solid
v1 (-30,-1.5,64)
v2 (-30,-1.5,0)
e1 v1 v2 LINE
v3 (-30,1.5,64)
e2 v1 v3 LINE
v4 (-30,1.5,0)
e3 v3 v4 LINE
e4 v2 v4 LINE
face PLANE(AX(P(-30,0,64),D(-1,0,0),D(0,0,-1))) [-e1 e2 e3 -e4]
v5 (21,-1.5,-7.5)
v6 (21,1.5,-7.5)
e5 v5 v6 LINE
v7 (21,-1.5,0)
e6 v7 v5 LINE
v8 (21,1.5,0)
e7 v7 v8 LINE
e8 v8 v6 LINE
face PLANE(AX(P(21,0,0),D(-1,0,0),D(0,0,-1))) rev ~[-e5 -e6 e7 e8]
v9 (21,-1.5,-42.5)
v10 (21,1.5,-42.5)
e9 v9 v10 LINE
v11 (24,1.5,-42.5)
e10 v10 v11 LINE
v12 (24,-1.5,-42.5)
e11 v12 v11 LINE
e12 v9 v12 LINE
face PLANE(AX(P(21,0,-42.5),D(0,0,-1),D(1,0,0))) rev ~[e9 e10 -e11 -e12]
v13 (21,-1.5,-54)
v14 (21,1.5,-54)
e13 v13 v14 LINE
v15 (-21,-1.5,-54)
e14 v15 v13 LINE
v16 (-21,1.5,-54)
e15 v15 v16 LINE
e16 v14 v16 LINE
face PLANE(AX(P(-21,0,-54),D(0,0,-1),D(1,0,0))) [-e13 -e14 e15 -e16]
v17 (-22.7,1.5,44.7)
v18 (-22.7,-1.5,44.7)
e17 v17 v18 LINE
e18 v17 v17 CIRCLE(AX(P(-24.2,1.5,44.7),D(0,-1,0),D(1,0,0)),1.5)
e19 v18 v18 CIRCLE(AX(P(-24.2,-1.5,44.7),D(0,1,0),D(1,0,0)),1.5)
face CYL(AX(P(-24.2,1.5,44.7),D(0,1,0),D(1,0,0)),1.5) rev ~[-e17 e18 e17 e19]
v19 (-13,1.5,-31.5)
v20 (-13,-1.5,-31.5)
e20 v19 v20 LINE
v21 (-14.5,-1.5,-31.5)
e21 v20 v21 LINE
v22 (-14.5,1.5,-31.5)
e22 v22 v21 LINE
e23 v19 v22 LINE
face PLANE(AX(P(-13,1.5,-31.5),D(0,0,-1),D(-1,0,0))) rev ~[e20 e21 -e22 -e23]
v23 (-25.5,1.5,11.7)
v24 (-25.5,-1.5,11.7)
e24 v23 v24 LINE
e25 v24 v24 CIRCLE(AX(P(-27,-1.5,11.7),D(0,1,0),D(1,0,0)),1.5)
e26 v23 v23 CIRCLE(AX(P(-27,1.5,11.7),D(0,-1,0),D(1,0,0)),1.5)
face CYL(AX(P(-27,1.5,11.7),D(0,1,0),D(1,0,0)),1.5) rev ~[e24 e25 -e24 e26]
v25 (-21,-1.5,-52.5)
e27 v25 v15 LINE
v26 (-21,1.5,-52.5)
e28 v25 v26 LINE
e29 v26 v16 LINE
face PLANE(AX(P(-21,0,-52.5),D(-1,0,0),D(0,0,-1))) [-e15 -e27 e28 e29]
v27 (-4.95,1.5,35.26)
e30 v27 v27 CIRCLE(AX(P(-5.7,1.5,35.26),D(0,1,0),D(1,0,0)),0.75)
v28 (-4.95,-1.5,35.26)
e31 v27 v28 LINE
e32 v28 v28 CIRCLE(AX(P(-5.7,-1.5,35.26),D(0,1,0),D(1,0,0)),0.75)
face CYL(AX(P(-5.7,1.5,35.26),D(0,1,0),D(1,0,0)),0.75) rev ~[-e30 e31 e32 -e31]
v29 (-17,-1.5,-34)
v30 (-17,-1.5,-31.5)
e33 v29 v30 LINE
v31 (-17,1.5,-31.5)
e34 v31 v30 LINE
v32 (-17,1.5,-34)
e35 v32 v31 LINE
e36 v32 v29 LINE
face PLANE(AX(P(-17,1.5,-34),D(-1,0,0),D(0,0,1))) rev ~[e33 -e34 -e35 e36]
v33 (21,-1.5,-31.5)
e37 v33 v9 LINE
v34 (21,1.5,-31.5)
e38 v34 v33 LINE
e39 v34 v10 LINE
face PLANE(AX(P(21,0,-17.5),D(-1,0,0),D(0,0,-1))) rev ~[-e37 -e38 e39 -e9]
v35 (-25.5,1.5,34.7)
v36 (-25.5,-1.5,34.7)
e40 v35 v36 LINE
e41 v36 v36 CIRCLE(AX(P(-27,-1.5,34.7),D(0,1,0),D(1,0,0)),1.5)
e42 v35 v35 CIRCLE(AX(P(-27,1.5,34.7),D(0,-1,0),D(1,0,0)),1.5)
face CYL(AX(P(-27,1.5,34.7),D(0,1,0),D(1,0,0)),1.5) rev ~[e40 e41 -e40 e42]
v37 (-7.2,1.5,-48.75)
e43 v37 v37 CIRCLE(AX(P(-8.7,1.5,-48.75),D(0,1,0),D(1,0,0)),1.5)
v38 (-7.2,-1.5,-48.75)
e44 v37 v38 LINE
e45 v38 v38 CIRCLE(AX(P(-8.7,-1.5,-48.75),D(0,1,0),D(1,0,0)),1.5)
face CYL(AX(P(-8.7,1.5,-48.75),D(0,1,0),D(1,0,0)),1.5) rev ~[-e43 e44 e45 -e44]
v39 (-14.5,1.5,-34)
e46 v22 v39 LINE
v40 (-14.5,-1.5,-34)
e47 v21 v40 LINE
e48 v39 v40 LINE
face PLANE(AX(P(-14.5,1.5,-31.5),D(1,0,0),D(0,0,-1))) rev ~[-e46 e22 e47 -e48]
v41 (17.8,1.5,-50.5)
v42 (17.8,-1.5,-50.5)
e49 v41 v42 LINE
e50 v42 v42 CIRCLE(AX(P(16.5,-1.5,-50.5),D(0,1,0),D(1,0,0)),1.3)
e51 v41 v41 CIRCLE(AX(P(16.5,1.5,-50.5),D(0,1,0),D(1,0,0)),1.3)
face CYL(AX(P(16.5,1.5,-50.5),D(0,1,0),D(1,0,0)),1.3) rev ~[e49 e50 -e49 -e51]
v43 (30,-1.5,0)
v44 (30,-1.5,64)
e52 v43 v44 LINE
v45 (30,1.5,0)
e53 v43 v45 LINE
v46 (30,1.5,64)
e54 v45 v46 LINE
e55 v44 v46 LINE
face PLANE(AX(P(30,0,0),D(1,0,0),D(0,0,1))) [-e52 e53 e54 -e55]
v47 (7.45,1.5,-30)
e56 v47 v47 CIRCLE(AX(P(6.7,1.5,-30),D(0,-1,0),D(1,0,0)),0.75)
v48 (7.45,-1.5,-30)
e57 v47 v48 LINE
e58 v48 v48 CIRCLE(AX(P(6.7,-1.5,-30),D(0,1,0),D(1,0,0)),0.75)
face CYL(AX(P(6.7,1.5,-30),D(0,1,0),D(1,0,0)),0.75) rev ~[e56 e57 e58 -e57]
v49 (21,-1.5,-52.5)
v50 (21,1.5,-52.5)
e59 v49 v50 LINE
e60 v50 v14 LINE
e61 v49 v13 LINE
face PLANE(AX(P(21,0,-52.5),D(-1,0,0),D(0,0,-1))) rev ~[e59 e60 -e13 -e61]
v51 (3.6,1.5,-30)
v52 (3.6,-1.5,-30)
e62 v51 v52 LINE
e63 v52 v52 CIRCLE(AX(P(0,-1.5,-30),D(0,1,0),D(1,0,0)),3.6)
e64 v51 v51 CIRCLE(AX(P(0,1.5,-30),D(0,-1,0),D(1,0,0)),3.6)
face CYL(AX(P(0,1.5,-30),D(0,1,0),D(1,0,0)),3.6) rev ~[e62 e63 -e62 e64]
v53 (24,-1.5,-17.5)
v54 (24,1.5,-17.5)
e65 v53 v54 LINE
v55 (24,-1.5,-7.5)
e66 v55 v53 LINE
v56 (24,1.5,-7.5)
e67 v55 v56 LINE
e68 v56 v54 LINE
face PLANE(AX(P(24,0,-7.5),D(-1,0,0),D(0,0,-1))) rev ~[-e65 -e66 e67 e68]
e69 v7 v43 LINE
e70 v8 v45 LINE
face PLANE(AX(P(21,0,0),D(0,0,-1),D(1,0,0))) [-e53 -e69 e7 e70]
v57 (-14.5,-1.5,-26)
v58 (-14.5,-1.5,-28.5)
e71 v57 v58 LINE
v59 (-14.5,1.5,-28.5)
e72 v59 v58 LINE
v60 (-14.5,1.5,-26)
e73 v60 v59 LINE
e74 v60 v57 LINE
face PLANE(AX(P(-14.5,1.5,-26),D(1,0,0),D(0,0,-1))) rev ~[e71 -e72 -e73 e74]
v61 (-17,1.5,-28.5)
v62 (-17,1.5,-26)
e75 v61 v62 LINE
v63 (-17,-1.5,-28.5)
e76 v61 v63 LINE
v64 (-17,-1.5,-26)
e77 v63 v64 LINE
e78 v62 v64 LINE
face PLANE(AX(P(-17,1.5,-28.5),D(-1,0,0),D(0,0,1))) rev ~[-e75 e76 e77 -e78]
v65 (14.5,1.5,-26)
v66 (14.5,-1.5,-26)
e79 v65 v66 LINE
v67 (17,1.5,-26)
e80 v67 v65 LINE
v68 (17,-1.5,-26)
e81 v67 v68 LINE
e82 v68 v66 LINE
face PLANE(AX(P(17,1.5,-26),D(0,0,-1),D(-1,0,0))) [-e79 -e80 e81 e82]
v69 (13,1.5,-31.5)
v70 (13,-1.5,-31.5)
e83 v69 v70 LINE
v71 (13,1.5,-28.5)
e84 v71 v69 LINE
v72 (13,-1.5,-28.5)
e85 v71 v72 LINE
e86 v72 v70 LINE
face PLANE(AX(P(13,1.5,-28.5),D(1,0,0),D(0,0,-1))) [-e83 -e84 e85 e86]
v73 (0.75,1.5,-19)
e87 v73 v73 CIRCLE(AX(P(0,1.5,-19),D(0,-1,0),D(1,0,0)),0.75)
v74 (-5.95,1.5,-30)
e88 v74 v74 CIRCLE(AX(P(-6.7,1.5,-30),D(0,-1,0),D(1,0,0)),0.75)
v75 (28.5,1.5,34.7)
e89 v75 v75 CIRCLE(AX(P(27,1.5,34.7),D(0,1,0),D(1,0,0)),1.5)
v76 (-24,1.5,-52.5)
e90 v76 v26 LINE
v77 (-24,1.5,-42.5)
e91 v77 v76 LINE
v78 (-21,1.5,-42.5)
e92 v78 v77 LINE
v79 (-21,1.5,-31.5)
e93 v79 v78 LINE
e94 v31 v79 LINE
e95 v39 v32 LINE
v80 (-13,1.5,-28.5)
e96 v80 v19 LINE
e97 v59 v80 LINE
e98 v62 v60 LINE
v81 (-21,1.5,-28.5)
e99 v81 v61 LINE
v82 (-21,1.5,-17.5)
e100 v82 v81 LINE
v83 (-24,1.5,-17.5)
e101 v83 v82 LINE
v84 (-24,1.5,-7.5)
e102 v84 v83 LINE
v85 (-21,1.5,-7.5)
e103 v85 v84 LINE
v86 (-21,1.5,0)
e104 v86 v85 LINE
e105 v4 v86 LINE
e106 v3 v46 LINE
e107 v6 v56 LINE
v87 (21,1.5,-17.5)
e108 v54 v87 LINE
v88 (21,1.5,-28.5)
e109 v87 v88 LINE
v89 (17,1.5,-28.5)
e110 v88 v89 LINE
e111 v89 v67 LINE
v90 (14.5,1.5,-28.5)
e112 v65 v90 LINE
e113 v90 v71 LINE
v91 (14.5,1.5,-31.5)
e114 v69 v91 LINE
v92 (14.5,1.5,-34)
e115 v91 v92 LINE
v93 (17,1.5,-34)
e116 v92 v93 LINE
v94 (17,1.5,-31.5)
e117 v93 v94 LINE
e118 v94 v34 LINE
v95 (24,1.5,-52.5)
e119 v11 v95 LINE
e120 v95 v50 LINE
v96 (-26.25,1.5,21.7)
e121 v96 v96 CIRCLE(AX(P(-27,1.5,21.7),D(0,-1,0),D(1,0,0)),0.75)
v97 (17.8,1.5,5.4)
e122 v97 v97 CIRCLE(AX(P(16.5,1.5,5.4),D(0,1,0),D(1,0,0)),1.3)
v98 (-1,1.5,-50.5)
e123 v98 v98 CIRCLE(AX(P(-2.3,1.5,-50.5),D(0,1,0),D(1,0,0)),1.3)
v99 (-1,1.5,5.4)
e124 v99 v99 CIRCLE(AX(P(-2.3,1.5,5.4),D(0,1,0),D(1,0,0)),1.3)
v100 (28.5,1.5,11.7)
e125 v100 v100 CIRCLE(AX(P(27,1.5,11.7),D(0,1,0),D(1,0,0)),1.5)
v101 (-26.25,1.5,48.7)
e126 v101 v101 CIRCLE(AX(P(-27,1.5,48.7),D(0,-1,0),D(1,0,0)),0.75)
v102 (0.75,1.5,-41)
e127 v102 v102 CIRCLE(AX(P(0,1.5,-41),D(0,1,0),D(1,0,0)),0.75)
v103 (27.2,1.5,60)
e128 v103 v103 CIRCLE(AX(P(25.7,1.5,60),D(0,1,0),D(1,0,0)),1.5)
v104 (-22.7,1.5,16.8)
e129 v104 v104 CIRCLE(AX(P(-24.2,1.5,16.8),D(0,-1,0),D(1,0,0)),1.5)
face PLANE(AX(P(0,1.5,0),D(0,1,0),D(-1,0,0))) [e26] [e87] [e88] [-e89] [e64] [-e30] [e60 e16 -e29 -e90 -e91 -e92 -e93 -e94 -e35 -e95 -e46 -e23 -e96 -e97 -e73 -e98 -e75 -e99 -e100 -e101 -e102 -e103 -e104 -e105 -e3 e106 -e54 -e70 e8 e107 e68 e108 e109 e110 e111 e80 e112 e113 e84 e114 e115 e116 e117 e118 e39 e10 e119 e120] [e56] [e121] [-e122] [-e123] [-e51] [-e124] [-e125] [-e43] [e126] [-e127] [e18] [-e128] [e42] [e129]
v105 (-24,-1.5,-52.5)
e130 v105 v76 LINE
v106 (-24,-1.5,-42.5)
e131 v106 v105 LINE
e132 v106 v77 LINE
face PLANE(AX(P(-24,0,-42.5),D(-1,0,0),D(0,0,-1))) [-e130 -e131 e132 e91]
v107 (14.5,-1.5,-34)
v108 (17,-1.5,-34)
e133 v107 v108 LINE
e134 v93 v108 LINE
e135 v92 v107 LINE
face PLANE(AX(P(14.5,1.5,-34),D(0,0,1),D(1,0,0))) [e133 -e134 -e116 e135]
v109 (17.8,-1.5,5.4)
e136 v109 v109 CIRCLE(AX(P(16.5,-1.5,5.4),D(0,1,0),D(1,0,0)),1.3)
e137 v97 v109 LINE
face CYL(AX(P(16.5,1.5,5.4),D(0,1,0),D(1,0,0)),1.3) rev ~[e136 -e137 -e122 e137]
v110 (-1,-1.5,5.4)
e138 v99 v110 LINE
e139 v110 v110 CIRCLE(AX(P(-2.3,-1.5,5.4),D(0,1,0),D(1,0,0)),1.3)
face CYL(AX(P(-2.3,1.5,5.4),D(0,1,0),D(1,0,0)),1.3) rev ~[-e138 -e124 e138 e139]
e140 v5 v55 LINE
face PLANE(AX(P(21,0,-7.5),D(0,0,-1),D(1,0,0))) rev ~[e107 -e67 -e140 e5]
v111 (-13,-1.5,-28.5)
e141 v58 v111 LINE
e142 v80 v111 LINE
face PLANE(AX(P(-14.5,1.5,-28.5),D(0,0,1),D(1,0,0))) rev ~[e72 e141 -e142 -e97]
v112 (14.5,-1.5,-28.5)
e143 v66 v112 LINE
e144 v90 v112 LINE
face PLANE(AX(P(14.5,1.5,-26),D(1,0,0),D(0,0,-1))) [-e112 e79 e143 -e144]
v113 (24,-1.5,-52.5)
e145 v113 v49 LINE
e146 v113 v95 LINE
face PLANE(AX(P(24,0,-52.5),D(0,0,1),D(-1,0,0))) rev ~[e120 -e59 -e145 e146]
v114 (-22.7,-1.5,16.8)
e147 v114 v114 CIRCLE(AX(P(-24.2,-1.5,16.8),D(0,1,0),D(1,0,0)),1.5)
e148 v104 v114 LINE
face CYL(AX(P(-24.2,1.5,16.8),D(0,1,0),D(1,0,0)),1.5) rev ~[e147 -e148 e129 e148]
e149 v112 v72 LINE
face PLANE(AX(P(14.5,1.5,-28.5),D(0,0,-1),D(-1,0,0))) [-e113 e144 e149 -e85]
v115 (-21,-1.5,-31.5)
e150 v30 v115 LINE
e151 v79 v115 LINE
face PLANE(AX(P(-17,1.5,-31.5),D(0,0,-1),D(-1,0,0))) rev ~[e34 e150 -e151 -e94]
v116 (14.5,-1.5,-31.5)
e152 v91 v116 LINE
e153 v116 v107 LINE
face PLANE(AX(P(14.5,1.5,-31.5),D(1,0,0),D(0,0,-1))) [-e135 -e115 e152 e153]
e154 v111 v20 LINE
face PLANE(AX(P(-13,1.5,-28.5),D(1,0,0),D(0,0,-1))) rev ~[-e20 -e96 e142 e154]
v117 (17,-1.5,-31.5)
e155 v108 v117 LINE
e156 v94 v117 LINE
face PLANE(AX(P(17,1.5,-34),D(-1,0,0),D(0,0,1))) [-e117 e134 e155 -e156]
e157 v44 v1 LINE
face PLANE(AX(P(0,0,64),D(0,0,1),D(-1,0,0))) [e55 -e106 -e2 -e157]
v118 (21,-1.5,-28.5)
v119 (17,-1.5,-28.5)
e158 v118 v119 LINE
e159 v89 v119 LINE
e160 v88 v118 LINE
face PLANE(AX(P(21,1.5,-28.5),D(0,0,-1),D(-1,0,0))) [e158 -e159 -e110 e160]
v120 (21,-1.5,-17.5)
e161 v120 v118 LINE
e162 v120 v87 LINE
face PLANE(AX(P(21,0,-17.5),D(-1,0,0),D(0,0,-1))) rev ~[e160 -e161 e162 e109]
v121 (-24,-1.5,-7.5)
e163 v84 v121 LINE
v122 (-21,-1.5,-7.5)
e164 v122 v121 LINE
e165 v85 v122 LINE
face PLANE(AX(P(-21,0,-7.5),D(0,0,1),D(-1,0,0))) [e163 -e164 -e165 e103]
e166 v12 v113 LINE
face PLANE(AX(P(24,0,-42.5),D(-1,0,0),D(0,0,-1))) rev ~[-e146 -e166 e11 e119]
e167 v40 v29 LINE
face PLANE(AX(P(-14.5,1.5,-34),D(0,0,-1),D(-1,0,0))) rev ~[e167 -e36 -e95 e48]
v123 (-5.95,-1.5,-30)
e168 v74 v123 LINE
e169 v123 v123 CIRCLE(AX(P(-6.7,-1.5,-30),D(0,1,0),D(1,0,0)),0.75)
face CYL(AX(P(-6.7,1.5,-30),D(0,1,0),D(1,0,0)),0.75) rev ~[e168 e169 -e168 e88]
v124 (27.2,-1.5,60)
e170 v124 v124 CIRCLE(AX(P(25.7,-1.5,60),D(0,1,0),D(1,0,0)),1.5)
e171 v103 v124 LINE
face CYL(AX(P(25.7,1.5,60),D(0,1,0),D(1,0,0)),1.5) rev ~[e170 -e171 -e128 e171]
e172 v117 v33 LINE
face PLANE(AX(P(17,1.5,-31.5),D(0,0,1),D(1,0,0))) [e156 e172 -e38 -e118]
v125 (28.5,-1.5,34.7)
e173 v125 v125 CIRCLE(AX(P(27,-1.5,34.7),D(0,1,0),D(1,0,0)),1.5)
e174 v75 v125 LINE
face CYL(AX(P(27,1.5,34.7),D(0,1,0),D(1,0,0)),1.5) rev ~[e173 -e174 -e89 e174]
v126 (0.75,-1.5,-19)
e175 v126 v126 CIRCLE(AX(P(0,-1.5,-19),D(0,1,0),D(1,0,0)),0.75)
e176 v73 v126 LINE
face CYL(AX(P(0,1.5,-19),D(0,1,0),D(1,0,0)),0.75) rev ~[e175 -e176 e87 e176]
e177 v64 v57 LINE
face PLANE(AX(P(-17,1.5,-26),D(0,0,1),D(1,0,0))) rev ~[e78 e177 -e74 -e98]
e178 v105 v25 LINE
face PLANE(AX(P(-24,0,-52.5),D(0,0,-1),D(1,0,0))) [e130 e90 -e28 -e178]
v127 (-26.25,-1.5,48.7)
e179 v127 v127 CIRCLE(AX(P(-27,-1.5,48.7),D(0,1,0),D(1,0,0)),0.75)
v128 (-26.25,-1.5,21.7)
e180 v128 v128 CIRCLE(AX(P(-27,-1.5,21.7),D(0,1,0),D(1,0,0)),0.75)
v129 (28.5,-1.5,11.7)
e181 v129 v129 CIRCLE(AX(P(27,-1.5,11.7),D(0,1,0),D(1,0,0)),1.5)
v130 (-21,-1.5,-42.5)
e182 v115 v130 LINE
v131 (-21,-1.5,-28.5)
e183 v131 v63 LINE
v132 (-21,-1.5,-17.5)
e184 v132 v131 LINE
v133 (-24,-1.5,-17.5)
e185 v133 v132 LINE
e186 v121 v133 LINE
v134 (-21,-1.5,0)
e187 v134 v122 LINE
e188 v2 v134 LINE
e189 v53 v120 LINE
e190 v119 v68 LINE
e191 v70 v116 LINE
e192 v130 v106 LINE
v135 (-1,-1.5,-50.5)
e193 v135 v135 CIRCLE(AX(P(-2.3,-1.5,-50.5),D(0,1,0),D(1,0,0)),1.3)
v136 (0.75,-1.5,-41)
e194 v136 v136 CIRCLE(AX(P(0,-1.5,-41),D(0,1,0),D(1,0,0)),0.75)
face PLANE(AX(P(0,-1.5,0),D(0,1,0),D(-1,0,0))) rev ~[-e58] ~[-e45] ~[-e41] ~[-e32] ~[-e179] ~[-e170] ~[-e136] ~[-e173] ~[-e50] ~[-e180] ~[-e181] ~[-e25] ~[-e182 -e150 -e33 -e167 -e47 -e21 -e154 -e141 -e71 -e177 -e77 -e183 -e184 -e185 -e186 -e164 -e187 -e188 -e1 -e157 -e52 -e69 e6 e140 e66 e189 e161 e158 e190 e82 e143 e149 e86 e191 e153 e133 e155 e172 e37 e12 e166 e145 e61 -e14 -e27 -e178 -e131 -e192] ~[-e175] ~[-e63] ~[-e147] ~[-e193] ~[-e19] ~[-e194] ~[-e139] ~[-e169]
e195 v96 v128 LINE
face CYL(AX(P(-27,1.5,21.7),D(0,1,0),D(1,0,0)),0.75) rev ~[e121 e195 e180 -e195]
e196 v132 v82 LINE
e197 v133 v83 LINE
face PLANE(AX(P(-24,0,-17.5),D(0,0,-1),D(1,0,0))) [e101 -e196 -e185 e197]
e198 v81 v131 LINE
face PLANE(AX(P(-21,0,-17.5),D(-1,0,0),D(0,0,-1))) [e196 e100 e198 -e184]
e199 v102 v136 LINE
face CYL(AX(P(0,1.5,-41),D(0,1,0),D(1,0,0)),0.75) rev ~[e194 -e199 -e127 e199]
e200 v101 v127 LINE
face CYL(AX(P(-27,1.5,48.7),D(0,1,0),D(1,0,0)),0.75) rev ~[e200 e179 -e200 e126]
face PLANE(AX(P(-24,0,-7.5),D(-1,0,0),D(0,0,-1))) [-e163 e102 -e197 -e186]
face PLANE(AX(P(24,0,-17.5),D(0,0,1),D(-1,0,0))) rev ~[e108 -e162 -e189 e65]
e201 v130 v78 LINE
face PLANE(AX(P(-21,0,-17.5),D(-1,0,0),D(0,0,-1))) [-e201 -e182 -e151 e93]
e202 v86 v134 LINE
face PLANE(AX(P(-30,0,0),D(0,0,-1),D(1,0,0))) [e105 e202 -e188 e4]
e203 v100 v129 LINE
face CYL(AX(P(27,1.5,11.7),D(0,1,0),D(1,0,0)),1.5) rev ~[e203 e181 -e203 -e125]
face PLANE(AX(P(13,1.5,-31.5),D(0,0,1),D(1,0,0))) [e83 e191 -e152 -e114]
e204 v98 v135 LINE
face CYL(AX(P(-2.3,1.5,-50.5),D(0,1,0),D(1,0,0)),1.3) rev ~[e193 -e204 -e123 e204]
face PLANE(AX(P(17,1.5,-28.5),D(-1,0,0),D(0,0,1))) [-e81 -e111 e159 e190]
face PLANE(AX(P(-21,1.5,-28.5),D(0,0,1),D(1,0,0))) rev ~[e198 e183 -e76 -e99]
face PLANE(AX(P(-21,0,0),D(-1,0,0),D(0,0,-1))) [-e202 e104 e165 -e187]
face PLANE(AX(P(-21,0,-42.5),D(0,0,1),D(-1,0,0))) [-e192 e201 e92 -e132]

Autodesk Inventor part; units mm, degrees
ref_plane "YZ Plane" through (0, 0, 0) normal (1, 0, 0) x (0, 1, 0)
ref_plane "XZ Plane" through (0, 0, 0) normal (0, 1, 0) x (-1, 0, 0)
ref_plane "XY Plane" through (0, 0, 0) normal (0, 0, 1) x (1, 0, 0)
sketch "草圖1" plane through (0, 0, 0) normal (0, 1, 0) x (-1, 0, 0)
  line L0 (42, 0) -> (-42, 0) projected
  line L1 (0, -77.6) -> (0, 87.6) projected
  line L2 (-30, 0) -> (-30, 64)
  line L3 (-30, 64) -> (30, 64)
  line L4 (30, 64) -> (30, 0)
  line L5 (21, 0) -> (21, -7.5)
  line L6 (21, -7.5) -> (0, -7.5)
  line L7 (0, -7.5) -> (24, -7.5)
  line L8 (24, -7.5) -> (24, -17.5)
  line L9 (24, -17.5) -> (0, -17.5)
  line L10 (0, -17.5) -> (0, -7.5)
  line L11 (0, -17.5) -> (21, -17.5)
  line L12 (21, -17.5) -> (21, -42.5)
  line L13 (21, -42.5) -> (0, -42.5)
  line L14 (0, -42.5) -> (0, -17.5)
  line L15 (0, -42.5) -> (24, -42.5)
  line L16 (24, -42.5) -> (24, -52.5)
  line L17 (24, -52.5) -> (0, -52.5)
  line L18 (0, -52.5) -> (0, -42.5)
  line L19 (0, -52.5) -> (21, -52.5)
  line L20 (21, -52.5) -> (21, -54)
  line L21 (21, -54) -> (0, -54)
  line L22 (0, -54) -> (0, -52.5)
  line L23 (-21, 0) -> (-21, -7.5)
  line L24 (-21, -7.5) -> (0, -7.5)
  line L25 (0, -7.5) -> (-24, -7.5)
  line L26 (-24, -7.5) -> (-24, -17.5)
  line L27 (-24, -17.5) -> (0, -17.5)
  line L28 (0, -17.5) -> (-21, -17.5)
  line L29 (-21, -17.5) -> (-21, -42.5)
  line L30 (-21, -42.5) -> (0, -42.5)
  line L31 (0, -42.5) -> (-24, -42.5)
  line L32 (-24, -42.5) -> (-24, -52.5)
  line L33 (-24, -52.5) -> (0, -52.5)
  line L34 (0, -52.5) -> (-21, -52.5)
  line L35 (-21, -52.5) -> (-21, -54)
  line L36 (-21, -54) -> (0, -54)
  line L37 (30, 0) -> (21, 0)
  line L38 (-21, 0) -> (-30, 0)
  point P0 (0, 0)
  dimension "d0" = 60
  dimension "d1" = 64
  dimension "d2" = 30
  dimension "d3" = 9
  dimension "d4" = 7.5
  dimension "d5" = 10
  dimension "d6" = 3
  dimension "d7" = 25
  dimension "d8" = 10
  dimension "d9" = 3
  dimension "d10" = 9
  dimension "d11" = 1.5
extrude "擠出1" add sketch "草圖1" along normal mid plane 3
sketch "草圖2" plane through (0, 1.5, 0) normal (0, 1, 0) x (1, 0, 0)
  line L0 (-21, 52.5) -> (-21, 54) projected
  line L1 (-21, 54) -> (21, 54) projected
  line L2 (21, 54) -> (21, 52.5) projected
  line L3 (21, 52.5) -> (24, 52.5) projected
  line L4 (24, 52.5) -> (24, 42.5) projected
  line L5 (24, 42.5) -> (21, 42.5) projected
  line L6 (21, 42.5) -> (21, 17.5) projected
  line L7 (21, 17.5) -> (24, 17.5) projected
  line L8 (24, 17.5) -> (24, 7.5) projected
  line L9 (24, 7.5) -> (21, 7.5) projected
  line L10 (21, 7.5) -> (21, 0) projected
  line L11 (21, 0) -> (30, 0) projected
  line L12 (30, 0) -> (30, -64) projected
  line L13 (30, -64) -> (-30, -64) projected
  line L14 (-30, -64) -> (-30, 0) projected
  line L15 (-30, 0) -> (-21, 0) projected
  line L16 (-21, 0) -> (-21, 7.5) projected
  line L17 (-21, 7.5) -> (-24, 7.5) projected
  line L18 (-24, 7.5) -> (-24, 17.5) projected
  line L19 (-24, 17.5) -> (-21, 17.5) projected
  line L20 (-21, 17.5) -> (-21, 42.5) projected
  line L21 (-21, 42.5) -> (-24, 42.5) projected
  line L22 (-24, 42.5) -> (-24, 52.5) projected
  line L23 (-24, 52.5) -> (-21, 52.5) projected
  line L24 (-21, 28.5) -> (-17, 28.5)
  line L25 (-17, 28.5) -> (-17, 31.5)
  line L26 (-17, 31.5) -> (-21, 31.5)
  line L27 (-21, 31.5) -> (-21, 28.5)
  line L28 (-17, 26) -> (-14.5, 26)
  line L29 (-14.5, 26) -> (-14.5, 34)
  line L30 (-14.5, 34) -> (-17, 34)
  line L31 (-17, 34) -> (-17, 26)
  line L32 (-14.5, 28.5) -> (-13, 28.5)
  line L33 (-13, 28.5) -> (-13, 31.5)
  line L34 (-13, 31.5) -> (-14.5, 31.5)
  line L35 (-14.5, 31.5) -> (-14.5, 28.5)
  line L36 (0, 0) -> (0, 17.5)
  line L37 (21, 28.5) -> (17, 28.5)
  line L38 (17, 28.5) -> (17, 31.5)
  line L39 (17, 31.5) -> (21, 31.5)
  line L40 (17, 26) -> (14.5, 26)
  line L41 (14.5, 26) -> (14.5, 34)
  line L42 (14.5, 34) -> (17, 34)
  line L43 (17, 34) -> (17, 26)
  line L44 (14.5, 28.5) -> (13, 28.5)
  line L45 (13, 28.5) -> (13, 31.5)
  line L46 (13, 31.5) -> (14.5, 31.5)
  line L47 (14.5, 31.5) -> (14.5, 28.5)
  line L48 (21, 28.5) -> (21, 31.5)
  line L49 (21, 42.5) -> (21, 17.5) projected
  dimension "d14" = 3
  dimension "d15" = 11
  dimension "d16" = 4
  dimension "d17" = 2.5
  dimension "d18" = 1.5
  dimension "d19" = 2.5
  dimension "d20" = 2.5
extrude "擠出2" cut sketch "草圖2" against normal blind 10 contours L26 L25 L24 L20 | L31 L30 L29 L28 L25 | L6 L37 L38 L39 | L38 L43 L40 L41 L42 | L34 L33 L32 L29 | L41 L44 L45 L46
sketch "草圖3" plane through (0, 1.5, 0) normal (0, 1, 0) x (1, 0, 0)
  line L0 (-21, 28.5) -> (-17, 28.5) projected
  line L1 (-17, 28.5) -> (-17, 26) projected
  line L2 (-17, 26) -> (-14.5, 26) projected
  line L3 (-14.5, 26) -> (-14.5, 28.5) projected
  line L4 (-14.5, 28.5) -> (-13, 28.5) projected
  line L5 (-13, 28.5) -> (-13, 31.5) projected
  line L6 (-13, 31.5) -> (-14.5, 31.5) projected
  line L7 (-14.5, 31.5) -> (-14.5, 34) projected
  line L8 (-14.5, 34) -> (-17, 34) projected
  line L9 (-17, 34) -> (-17, 31.5) projected
  line L10 (-17, 31.5) -> (-21, 31.5) projected
  line L11 (-21, 31.5) -> (-21, 42.5) projected
  line L12 (-21, 42.5) -> (-24, 42.5) projected
  line L13 (-24, 42.5) -> (-24, 52.5) projected
  line L14 (-24, 52.5) -> (-21, 52.5) projected
  line L15 (-21, 52.5) -> (-21, 54) projected
  line L16 (-21, 54) -> (21, 54) projected
  line L17 (21, 54) -> (21, 52.5) projected
  line L18 (21, 52.5) -> (24, 52.5) projected
  line L19 (24, 52.5) -> (24, 42.5) projected
  line L20 (24, 42.5) -> (21, 42.5) projected
  line L21 (21, 42.5) -> (21, 31.5) projected
  line L22 (21, 31.5) -> (17, 31.5) projected
  line L23 (17, 31.5) -> (17, 34) projected
  line L24 (17, 34) -> (14.5, 34) projected
  line L25 (14.5, 34) -> (14.5, 31.5) projected
  line L26 (14.5, 31.5) -> (13, 31.5) projected
  line L27 (13, 31.5) -> (13, 28.5) projected
  line L28 (13, 28.5) -> (14.5, 28.5) projected
  line L29 (14.5, 28.5) -> (14.5, 26) projected
  line L30 (14.5, 26) -> (17, 26) projected
  line L31 (17, 26) -> (17, 28.5) projected
  line L32 (17, 28.5) -> (21, 28.5) projected
  line L33 (21, 28.5) -> (21, 17.5) projected
  line L34 (21, 17.5) -> (24, 17.5) projected
  line L35 (24, 17.5) -> (24, 7.5) projected
  line L36 (24, 7.5) -> (21, 7.5) projected
  line L37 (21, 7.5) -> (21, 0) projected
  line L38 (21, 0) -> (30, 0) projected
  line L39 (30, 0) -> (30, -64) projected
  line L40 (30, -64) -> (-30, -64) projected
  line L41 (-30, -64) -> (-30, 0) projected
  line L42 (-30, 0) -> (-21, 0) projected
  line L43 (-21, 0) -> (-21, 7.5) projected
  line L44 (-21, 7.5) -> (-24, 7.5) projected
  line L45 (-24, 7.5) -> (-24, 17.5) projected
  line L46 (-24, 17.5) -> (-21, 17.5) projected
  line L47 (-21, 17.5) -> (-21, 28.5) projected
  line L48 (-30, 0) -> (-21, 0) projected
  line L49 (-30, 0) -> (-27, 0)
  line L50 (-27, 0) -> (-27, -11.7)
  line L51 (-27, -11.7) -> (-24.2, -11.7)
  line L52 (-24.2, -11.7) -> (-24.2, -16.8)
  circle A0 centre (-27, -11.7) radius 1.5
  circle A1 centre (-24.2, -16.8) radius 1.5
  line L53 (-27, -11.7) -> (-27, -21.7)
  circle A2 centre (-27, -21.7) radius 0.75
  line L54 (-27, -21.7) -> (-27, -34.7)
  circle A3 centre (-27, -34.7) radius 1.5
  line L55 (-27, -34.7) -> (-27, -48.7)
  circle A4 centre (-27, -48.7) radius 0.75
  line L56 (-27, -48.7) -> (-27, -44.7)
  line L57 (-27, -44.7) -> (-24.2, -44.7)
  circle A5 centre (-24.2, -44.7) radius 1.5
  line L58 (30, -64) -> (-30, -64) projected
  line L59 (0, -64) -> (0, 30)
  circle A6 centre (27, -11.7) radius 1.5
  circle A7 centre (27, -34.7) radius 1.5
  circle A8 centre (25.7, -60) radius 1.5
  circle A9 centre (16.5, -5.4) radius 1.3
  circle A10 centre (-2.3, -5.4) radius 1.3
  circle A11 centre (-5.7, -35.26) radius 0.75
  line L60 (-13, 28.5) -> (-13, 31.5) projected
  line L61 (-13, 30) -> (13, 30)
  line L62 (13, 31.5) -> (13, 28.5) projected
  circle A12 centre (0, 30) radius 1.5
  circle A13 centre (0, 30) radius 3.6
  circle A14 centre (0, 19) radius 0.75
  circle A15 centre (-6.7, 30) radius 0.75
  circle A16 centre (6.7, 30) radius 0.75
  circle A17 centre (0, 41) radius 0.75
  circle A18 centre (-2.3, 50.5) radius 1.3
  circle A19 centre (16.5, 50.5) radius 1.3
  circle A20 centre (-8.7, 48.75) radius 1.5
  point P0 (0, 0)
  dimension "d23" = 3
  dimension "d24" = 11.7
  dimension "d25" = 2.8
  dimension "d26" = 5.1
  dimension "d27" = 3
  dimension "d28" = 3
  dimension "d29" = 10
  dimension "d30" = 1.5
  dimension "d31" = 13
  dimension "d32" = 3
  dimension "d33" = 14
  dimension "d34" = 1.5
  dimension "d35" = 4
  dimension "d36" = 3
  dimension "d37" = 94
  dimension "d38" = 4.3
  dimension "d39" = 4
  dimension "d40" = 3
  dimension "d41" = 2.6
  dimension "d42" = 5.4
  dimension "d43" = 13.5
  dimension "d44" = 2.6
  dimension "d46" = 5.4
  dimension "d47" = 28.74
  dimension "d48" = 35.7
  dimension "d49" = 1.5
  dimension "d50" = 3
  dimension "d51" = 7.2
  dimension "d52" = 6.7
  dimension "d53" = 11
  dimension "d54" = 1.5
  dimension "d55" = 1.5
  dimension "d56" = 18.8
  dimension "d58" = 2.6
  dimension "d60" = 2.6
  dimension "d63" = 3
extrude "擠出3" cut sketch "草圖3" against normal blind 10 contours A1 | A5 | A4 | A3 L55 L54 | L54 L55 A3 | A2 L54 L53 | L53 L54 A2 | A0 L51 L50 | L50 L53 A0 | A15 L61 | L61 A15 | L51 A0 L53 | A14 L59 | L59 A14 | A6 | A7 | A8 | A9 | A10 | A11
extrude "擠出4" cut sketch "草圖3" against normal blind 10 contours A13 L61 A12 | L61 A12 L59 A13 | A12 L61 | L61 L59 A12 | A13 L59 A12 L61 | L61 A12 L59 | A16 L61 | L61 A16 | A17
extrude "擠出5" cut sketch "草圖3" against normal blind 10 contours A18 | A19 | A20
properties part number "板子9"
